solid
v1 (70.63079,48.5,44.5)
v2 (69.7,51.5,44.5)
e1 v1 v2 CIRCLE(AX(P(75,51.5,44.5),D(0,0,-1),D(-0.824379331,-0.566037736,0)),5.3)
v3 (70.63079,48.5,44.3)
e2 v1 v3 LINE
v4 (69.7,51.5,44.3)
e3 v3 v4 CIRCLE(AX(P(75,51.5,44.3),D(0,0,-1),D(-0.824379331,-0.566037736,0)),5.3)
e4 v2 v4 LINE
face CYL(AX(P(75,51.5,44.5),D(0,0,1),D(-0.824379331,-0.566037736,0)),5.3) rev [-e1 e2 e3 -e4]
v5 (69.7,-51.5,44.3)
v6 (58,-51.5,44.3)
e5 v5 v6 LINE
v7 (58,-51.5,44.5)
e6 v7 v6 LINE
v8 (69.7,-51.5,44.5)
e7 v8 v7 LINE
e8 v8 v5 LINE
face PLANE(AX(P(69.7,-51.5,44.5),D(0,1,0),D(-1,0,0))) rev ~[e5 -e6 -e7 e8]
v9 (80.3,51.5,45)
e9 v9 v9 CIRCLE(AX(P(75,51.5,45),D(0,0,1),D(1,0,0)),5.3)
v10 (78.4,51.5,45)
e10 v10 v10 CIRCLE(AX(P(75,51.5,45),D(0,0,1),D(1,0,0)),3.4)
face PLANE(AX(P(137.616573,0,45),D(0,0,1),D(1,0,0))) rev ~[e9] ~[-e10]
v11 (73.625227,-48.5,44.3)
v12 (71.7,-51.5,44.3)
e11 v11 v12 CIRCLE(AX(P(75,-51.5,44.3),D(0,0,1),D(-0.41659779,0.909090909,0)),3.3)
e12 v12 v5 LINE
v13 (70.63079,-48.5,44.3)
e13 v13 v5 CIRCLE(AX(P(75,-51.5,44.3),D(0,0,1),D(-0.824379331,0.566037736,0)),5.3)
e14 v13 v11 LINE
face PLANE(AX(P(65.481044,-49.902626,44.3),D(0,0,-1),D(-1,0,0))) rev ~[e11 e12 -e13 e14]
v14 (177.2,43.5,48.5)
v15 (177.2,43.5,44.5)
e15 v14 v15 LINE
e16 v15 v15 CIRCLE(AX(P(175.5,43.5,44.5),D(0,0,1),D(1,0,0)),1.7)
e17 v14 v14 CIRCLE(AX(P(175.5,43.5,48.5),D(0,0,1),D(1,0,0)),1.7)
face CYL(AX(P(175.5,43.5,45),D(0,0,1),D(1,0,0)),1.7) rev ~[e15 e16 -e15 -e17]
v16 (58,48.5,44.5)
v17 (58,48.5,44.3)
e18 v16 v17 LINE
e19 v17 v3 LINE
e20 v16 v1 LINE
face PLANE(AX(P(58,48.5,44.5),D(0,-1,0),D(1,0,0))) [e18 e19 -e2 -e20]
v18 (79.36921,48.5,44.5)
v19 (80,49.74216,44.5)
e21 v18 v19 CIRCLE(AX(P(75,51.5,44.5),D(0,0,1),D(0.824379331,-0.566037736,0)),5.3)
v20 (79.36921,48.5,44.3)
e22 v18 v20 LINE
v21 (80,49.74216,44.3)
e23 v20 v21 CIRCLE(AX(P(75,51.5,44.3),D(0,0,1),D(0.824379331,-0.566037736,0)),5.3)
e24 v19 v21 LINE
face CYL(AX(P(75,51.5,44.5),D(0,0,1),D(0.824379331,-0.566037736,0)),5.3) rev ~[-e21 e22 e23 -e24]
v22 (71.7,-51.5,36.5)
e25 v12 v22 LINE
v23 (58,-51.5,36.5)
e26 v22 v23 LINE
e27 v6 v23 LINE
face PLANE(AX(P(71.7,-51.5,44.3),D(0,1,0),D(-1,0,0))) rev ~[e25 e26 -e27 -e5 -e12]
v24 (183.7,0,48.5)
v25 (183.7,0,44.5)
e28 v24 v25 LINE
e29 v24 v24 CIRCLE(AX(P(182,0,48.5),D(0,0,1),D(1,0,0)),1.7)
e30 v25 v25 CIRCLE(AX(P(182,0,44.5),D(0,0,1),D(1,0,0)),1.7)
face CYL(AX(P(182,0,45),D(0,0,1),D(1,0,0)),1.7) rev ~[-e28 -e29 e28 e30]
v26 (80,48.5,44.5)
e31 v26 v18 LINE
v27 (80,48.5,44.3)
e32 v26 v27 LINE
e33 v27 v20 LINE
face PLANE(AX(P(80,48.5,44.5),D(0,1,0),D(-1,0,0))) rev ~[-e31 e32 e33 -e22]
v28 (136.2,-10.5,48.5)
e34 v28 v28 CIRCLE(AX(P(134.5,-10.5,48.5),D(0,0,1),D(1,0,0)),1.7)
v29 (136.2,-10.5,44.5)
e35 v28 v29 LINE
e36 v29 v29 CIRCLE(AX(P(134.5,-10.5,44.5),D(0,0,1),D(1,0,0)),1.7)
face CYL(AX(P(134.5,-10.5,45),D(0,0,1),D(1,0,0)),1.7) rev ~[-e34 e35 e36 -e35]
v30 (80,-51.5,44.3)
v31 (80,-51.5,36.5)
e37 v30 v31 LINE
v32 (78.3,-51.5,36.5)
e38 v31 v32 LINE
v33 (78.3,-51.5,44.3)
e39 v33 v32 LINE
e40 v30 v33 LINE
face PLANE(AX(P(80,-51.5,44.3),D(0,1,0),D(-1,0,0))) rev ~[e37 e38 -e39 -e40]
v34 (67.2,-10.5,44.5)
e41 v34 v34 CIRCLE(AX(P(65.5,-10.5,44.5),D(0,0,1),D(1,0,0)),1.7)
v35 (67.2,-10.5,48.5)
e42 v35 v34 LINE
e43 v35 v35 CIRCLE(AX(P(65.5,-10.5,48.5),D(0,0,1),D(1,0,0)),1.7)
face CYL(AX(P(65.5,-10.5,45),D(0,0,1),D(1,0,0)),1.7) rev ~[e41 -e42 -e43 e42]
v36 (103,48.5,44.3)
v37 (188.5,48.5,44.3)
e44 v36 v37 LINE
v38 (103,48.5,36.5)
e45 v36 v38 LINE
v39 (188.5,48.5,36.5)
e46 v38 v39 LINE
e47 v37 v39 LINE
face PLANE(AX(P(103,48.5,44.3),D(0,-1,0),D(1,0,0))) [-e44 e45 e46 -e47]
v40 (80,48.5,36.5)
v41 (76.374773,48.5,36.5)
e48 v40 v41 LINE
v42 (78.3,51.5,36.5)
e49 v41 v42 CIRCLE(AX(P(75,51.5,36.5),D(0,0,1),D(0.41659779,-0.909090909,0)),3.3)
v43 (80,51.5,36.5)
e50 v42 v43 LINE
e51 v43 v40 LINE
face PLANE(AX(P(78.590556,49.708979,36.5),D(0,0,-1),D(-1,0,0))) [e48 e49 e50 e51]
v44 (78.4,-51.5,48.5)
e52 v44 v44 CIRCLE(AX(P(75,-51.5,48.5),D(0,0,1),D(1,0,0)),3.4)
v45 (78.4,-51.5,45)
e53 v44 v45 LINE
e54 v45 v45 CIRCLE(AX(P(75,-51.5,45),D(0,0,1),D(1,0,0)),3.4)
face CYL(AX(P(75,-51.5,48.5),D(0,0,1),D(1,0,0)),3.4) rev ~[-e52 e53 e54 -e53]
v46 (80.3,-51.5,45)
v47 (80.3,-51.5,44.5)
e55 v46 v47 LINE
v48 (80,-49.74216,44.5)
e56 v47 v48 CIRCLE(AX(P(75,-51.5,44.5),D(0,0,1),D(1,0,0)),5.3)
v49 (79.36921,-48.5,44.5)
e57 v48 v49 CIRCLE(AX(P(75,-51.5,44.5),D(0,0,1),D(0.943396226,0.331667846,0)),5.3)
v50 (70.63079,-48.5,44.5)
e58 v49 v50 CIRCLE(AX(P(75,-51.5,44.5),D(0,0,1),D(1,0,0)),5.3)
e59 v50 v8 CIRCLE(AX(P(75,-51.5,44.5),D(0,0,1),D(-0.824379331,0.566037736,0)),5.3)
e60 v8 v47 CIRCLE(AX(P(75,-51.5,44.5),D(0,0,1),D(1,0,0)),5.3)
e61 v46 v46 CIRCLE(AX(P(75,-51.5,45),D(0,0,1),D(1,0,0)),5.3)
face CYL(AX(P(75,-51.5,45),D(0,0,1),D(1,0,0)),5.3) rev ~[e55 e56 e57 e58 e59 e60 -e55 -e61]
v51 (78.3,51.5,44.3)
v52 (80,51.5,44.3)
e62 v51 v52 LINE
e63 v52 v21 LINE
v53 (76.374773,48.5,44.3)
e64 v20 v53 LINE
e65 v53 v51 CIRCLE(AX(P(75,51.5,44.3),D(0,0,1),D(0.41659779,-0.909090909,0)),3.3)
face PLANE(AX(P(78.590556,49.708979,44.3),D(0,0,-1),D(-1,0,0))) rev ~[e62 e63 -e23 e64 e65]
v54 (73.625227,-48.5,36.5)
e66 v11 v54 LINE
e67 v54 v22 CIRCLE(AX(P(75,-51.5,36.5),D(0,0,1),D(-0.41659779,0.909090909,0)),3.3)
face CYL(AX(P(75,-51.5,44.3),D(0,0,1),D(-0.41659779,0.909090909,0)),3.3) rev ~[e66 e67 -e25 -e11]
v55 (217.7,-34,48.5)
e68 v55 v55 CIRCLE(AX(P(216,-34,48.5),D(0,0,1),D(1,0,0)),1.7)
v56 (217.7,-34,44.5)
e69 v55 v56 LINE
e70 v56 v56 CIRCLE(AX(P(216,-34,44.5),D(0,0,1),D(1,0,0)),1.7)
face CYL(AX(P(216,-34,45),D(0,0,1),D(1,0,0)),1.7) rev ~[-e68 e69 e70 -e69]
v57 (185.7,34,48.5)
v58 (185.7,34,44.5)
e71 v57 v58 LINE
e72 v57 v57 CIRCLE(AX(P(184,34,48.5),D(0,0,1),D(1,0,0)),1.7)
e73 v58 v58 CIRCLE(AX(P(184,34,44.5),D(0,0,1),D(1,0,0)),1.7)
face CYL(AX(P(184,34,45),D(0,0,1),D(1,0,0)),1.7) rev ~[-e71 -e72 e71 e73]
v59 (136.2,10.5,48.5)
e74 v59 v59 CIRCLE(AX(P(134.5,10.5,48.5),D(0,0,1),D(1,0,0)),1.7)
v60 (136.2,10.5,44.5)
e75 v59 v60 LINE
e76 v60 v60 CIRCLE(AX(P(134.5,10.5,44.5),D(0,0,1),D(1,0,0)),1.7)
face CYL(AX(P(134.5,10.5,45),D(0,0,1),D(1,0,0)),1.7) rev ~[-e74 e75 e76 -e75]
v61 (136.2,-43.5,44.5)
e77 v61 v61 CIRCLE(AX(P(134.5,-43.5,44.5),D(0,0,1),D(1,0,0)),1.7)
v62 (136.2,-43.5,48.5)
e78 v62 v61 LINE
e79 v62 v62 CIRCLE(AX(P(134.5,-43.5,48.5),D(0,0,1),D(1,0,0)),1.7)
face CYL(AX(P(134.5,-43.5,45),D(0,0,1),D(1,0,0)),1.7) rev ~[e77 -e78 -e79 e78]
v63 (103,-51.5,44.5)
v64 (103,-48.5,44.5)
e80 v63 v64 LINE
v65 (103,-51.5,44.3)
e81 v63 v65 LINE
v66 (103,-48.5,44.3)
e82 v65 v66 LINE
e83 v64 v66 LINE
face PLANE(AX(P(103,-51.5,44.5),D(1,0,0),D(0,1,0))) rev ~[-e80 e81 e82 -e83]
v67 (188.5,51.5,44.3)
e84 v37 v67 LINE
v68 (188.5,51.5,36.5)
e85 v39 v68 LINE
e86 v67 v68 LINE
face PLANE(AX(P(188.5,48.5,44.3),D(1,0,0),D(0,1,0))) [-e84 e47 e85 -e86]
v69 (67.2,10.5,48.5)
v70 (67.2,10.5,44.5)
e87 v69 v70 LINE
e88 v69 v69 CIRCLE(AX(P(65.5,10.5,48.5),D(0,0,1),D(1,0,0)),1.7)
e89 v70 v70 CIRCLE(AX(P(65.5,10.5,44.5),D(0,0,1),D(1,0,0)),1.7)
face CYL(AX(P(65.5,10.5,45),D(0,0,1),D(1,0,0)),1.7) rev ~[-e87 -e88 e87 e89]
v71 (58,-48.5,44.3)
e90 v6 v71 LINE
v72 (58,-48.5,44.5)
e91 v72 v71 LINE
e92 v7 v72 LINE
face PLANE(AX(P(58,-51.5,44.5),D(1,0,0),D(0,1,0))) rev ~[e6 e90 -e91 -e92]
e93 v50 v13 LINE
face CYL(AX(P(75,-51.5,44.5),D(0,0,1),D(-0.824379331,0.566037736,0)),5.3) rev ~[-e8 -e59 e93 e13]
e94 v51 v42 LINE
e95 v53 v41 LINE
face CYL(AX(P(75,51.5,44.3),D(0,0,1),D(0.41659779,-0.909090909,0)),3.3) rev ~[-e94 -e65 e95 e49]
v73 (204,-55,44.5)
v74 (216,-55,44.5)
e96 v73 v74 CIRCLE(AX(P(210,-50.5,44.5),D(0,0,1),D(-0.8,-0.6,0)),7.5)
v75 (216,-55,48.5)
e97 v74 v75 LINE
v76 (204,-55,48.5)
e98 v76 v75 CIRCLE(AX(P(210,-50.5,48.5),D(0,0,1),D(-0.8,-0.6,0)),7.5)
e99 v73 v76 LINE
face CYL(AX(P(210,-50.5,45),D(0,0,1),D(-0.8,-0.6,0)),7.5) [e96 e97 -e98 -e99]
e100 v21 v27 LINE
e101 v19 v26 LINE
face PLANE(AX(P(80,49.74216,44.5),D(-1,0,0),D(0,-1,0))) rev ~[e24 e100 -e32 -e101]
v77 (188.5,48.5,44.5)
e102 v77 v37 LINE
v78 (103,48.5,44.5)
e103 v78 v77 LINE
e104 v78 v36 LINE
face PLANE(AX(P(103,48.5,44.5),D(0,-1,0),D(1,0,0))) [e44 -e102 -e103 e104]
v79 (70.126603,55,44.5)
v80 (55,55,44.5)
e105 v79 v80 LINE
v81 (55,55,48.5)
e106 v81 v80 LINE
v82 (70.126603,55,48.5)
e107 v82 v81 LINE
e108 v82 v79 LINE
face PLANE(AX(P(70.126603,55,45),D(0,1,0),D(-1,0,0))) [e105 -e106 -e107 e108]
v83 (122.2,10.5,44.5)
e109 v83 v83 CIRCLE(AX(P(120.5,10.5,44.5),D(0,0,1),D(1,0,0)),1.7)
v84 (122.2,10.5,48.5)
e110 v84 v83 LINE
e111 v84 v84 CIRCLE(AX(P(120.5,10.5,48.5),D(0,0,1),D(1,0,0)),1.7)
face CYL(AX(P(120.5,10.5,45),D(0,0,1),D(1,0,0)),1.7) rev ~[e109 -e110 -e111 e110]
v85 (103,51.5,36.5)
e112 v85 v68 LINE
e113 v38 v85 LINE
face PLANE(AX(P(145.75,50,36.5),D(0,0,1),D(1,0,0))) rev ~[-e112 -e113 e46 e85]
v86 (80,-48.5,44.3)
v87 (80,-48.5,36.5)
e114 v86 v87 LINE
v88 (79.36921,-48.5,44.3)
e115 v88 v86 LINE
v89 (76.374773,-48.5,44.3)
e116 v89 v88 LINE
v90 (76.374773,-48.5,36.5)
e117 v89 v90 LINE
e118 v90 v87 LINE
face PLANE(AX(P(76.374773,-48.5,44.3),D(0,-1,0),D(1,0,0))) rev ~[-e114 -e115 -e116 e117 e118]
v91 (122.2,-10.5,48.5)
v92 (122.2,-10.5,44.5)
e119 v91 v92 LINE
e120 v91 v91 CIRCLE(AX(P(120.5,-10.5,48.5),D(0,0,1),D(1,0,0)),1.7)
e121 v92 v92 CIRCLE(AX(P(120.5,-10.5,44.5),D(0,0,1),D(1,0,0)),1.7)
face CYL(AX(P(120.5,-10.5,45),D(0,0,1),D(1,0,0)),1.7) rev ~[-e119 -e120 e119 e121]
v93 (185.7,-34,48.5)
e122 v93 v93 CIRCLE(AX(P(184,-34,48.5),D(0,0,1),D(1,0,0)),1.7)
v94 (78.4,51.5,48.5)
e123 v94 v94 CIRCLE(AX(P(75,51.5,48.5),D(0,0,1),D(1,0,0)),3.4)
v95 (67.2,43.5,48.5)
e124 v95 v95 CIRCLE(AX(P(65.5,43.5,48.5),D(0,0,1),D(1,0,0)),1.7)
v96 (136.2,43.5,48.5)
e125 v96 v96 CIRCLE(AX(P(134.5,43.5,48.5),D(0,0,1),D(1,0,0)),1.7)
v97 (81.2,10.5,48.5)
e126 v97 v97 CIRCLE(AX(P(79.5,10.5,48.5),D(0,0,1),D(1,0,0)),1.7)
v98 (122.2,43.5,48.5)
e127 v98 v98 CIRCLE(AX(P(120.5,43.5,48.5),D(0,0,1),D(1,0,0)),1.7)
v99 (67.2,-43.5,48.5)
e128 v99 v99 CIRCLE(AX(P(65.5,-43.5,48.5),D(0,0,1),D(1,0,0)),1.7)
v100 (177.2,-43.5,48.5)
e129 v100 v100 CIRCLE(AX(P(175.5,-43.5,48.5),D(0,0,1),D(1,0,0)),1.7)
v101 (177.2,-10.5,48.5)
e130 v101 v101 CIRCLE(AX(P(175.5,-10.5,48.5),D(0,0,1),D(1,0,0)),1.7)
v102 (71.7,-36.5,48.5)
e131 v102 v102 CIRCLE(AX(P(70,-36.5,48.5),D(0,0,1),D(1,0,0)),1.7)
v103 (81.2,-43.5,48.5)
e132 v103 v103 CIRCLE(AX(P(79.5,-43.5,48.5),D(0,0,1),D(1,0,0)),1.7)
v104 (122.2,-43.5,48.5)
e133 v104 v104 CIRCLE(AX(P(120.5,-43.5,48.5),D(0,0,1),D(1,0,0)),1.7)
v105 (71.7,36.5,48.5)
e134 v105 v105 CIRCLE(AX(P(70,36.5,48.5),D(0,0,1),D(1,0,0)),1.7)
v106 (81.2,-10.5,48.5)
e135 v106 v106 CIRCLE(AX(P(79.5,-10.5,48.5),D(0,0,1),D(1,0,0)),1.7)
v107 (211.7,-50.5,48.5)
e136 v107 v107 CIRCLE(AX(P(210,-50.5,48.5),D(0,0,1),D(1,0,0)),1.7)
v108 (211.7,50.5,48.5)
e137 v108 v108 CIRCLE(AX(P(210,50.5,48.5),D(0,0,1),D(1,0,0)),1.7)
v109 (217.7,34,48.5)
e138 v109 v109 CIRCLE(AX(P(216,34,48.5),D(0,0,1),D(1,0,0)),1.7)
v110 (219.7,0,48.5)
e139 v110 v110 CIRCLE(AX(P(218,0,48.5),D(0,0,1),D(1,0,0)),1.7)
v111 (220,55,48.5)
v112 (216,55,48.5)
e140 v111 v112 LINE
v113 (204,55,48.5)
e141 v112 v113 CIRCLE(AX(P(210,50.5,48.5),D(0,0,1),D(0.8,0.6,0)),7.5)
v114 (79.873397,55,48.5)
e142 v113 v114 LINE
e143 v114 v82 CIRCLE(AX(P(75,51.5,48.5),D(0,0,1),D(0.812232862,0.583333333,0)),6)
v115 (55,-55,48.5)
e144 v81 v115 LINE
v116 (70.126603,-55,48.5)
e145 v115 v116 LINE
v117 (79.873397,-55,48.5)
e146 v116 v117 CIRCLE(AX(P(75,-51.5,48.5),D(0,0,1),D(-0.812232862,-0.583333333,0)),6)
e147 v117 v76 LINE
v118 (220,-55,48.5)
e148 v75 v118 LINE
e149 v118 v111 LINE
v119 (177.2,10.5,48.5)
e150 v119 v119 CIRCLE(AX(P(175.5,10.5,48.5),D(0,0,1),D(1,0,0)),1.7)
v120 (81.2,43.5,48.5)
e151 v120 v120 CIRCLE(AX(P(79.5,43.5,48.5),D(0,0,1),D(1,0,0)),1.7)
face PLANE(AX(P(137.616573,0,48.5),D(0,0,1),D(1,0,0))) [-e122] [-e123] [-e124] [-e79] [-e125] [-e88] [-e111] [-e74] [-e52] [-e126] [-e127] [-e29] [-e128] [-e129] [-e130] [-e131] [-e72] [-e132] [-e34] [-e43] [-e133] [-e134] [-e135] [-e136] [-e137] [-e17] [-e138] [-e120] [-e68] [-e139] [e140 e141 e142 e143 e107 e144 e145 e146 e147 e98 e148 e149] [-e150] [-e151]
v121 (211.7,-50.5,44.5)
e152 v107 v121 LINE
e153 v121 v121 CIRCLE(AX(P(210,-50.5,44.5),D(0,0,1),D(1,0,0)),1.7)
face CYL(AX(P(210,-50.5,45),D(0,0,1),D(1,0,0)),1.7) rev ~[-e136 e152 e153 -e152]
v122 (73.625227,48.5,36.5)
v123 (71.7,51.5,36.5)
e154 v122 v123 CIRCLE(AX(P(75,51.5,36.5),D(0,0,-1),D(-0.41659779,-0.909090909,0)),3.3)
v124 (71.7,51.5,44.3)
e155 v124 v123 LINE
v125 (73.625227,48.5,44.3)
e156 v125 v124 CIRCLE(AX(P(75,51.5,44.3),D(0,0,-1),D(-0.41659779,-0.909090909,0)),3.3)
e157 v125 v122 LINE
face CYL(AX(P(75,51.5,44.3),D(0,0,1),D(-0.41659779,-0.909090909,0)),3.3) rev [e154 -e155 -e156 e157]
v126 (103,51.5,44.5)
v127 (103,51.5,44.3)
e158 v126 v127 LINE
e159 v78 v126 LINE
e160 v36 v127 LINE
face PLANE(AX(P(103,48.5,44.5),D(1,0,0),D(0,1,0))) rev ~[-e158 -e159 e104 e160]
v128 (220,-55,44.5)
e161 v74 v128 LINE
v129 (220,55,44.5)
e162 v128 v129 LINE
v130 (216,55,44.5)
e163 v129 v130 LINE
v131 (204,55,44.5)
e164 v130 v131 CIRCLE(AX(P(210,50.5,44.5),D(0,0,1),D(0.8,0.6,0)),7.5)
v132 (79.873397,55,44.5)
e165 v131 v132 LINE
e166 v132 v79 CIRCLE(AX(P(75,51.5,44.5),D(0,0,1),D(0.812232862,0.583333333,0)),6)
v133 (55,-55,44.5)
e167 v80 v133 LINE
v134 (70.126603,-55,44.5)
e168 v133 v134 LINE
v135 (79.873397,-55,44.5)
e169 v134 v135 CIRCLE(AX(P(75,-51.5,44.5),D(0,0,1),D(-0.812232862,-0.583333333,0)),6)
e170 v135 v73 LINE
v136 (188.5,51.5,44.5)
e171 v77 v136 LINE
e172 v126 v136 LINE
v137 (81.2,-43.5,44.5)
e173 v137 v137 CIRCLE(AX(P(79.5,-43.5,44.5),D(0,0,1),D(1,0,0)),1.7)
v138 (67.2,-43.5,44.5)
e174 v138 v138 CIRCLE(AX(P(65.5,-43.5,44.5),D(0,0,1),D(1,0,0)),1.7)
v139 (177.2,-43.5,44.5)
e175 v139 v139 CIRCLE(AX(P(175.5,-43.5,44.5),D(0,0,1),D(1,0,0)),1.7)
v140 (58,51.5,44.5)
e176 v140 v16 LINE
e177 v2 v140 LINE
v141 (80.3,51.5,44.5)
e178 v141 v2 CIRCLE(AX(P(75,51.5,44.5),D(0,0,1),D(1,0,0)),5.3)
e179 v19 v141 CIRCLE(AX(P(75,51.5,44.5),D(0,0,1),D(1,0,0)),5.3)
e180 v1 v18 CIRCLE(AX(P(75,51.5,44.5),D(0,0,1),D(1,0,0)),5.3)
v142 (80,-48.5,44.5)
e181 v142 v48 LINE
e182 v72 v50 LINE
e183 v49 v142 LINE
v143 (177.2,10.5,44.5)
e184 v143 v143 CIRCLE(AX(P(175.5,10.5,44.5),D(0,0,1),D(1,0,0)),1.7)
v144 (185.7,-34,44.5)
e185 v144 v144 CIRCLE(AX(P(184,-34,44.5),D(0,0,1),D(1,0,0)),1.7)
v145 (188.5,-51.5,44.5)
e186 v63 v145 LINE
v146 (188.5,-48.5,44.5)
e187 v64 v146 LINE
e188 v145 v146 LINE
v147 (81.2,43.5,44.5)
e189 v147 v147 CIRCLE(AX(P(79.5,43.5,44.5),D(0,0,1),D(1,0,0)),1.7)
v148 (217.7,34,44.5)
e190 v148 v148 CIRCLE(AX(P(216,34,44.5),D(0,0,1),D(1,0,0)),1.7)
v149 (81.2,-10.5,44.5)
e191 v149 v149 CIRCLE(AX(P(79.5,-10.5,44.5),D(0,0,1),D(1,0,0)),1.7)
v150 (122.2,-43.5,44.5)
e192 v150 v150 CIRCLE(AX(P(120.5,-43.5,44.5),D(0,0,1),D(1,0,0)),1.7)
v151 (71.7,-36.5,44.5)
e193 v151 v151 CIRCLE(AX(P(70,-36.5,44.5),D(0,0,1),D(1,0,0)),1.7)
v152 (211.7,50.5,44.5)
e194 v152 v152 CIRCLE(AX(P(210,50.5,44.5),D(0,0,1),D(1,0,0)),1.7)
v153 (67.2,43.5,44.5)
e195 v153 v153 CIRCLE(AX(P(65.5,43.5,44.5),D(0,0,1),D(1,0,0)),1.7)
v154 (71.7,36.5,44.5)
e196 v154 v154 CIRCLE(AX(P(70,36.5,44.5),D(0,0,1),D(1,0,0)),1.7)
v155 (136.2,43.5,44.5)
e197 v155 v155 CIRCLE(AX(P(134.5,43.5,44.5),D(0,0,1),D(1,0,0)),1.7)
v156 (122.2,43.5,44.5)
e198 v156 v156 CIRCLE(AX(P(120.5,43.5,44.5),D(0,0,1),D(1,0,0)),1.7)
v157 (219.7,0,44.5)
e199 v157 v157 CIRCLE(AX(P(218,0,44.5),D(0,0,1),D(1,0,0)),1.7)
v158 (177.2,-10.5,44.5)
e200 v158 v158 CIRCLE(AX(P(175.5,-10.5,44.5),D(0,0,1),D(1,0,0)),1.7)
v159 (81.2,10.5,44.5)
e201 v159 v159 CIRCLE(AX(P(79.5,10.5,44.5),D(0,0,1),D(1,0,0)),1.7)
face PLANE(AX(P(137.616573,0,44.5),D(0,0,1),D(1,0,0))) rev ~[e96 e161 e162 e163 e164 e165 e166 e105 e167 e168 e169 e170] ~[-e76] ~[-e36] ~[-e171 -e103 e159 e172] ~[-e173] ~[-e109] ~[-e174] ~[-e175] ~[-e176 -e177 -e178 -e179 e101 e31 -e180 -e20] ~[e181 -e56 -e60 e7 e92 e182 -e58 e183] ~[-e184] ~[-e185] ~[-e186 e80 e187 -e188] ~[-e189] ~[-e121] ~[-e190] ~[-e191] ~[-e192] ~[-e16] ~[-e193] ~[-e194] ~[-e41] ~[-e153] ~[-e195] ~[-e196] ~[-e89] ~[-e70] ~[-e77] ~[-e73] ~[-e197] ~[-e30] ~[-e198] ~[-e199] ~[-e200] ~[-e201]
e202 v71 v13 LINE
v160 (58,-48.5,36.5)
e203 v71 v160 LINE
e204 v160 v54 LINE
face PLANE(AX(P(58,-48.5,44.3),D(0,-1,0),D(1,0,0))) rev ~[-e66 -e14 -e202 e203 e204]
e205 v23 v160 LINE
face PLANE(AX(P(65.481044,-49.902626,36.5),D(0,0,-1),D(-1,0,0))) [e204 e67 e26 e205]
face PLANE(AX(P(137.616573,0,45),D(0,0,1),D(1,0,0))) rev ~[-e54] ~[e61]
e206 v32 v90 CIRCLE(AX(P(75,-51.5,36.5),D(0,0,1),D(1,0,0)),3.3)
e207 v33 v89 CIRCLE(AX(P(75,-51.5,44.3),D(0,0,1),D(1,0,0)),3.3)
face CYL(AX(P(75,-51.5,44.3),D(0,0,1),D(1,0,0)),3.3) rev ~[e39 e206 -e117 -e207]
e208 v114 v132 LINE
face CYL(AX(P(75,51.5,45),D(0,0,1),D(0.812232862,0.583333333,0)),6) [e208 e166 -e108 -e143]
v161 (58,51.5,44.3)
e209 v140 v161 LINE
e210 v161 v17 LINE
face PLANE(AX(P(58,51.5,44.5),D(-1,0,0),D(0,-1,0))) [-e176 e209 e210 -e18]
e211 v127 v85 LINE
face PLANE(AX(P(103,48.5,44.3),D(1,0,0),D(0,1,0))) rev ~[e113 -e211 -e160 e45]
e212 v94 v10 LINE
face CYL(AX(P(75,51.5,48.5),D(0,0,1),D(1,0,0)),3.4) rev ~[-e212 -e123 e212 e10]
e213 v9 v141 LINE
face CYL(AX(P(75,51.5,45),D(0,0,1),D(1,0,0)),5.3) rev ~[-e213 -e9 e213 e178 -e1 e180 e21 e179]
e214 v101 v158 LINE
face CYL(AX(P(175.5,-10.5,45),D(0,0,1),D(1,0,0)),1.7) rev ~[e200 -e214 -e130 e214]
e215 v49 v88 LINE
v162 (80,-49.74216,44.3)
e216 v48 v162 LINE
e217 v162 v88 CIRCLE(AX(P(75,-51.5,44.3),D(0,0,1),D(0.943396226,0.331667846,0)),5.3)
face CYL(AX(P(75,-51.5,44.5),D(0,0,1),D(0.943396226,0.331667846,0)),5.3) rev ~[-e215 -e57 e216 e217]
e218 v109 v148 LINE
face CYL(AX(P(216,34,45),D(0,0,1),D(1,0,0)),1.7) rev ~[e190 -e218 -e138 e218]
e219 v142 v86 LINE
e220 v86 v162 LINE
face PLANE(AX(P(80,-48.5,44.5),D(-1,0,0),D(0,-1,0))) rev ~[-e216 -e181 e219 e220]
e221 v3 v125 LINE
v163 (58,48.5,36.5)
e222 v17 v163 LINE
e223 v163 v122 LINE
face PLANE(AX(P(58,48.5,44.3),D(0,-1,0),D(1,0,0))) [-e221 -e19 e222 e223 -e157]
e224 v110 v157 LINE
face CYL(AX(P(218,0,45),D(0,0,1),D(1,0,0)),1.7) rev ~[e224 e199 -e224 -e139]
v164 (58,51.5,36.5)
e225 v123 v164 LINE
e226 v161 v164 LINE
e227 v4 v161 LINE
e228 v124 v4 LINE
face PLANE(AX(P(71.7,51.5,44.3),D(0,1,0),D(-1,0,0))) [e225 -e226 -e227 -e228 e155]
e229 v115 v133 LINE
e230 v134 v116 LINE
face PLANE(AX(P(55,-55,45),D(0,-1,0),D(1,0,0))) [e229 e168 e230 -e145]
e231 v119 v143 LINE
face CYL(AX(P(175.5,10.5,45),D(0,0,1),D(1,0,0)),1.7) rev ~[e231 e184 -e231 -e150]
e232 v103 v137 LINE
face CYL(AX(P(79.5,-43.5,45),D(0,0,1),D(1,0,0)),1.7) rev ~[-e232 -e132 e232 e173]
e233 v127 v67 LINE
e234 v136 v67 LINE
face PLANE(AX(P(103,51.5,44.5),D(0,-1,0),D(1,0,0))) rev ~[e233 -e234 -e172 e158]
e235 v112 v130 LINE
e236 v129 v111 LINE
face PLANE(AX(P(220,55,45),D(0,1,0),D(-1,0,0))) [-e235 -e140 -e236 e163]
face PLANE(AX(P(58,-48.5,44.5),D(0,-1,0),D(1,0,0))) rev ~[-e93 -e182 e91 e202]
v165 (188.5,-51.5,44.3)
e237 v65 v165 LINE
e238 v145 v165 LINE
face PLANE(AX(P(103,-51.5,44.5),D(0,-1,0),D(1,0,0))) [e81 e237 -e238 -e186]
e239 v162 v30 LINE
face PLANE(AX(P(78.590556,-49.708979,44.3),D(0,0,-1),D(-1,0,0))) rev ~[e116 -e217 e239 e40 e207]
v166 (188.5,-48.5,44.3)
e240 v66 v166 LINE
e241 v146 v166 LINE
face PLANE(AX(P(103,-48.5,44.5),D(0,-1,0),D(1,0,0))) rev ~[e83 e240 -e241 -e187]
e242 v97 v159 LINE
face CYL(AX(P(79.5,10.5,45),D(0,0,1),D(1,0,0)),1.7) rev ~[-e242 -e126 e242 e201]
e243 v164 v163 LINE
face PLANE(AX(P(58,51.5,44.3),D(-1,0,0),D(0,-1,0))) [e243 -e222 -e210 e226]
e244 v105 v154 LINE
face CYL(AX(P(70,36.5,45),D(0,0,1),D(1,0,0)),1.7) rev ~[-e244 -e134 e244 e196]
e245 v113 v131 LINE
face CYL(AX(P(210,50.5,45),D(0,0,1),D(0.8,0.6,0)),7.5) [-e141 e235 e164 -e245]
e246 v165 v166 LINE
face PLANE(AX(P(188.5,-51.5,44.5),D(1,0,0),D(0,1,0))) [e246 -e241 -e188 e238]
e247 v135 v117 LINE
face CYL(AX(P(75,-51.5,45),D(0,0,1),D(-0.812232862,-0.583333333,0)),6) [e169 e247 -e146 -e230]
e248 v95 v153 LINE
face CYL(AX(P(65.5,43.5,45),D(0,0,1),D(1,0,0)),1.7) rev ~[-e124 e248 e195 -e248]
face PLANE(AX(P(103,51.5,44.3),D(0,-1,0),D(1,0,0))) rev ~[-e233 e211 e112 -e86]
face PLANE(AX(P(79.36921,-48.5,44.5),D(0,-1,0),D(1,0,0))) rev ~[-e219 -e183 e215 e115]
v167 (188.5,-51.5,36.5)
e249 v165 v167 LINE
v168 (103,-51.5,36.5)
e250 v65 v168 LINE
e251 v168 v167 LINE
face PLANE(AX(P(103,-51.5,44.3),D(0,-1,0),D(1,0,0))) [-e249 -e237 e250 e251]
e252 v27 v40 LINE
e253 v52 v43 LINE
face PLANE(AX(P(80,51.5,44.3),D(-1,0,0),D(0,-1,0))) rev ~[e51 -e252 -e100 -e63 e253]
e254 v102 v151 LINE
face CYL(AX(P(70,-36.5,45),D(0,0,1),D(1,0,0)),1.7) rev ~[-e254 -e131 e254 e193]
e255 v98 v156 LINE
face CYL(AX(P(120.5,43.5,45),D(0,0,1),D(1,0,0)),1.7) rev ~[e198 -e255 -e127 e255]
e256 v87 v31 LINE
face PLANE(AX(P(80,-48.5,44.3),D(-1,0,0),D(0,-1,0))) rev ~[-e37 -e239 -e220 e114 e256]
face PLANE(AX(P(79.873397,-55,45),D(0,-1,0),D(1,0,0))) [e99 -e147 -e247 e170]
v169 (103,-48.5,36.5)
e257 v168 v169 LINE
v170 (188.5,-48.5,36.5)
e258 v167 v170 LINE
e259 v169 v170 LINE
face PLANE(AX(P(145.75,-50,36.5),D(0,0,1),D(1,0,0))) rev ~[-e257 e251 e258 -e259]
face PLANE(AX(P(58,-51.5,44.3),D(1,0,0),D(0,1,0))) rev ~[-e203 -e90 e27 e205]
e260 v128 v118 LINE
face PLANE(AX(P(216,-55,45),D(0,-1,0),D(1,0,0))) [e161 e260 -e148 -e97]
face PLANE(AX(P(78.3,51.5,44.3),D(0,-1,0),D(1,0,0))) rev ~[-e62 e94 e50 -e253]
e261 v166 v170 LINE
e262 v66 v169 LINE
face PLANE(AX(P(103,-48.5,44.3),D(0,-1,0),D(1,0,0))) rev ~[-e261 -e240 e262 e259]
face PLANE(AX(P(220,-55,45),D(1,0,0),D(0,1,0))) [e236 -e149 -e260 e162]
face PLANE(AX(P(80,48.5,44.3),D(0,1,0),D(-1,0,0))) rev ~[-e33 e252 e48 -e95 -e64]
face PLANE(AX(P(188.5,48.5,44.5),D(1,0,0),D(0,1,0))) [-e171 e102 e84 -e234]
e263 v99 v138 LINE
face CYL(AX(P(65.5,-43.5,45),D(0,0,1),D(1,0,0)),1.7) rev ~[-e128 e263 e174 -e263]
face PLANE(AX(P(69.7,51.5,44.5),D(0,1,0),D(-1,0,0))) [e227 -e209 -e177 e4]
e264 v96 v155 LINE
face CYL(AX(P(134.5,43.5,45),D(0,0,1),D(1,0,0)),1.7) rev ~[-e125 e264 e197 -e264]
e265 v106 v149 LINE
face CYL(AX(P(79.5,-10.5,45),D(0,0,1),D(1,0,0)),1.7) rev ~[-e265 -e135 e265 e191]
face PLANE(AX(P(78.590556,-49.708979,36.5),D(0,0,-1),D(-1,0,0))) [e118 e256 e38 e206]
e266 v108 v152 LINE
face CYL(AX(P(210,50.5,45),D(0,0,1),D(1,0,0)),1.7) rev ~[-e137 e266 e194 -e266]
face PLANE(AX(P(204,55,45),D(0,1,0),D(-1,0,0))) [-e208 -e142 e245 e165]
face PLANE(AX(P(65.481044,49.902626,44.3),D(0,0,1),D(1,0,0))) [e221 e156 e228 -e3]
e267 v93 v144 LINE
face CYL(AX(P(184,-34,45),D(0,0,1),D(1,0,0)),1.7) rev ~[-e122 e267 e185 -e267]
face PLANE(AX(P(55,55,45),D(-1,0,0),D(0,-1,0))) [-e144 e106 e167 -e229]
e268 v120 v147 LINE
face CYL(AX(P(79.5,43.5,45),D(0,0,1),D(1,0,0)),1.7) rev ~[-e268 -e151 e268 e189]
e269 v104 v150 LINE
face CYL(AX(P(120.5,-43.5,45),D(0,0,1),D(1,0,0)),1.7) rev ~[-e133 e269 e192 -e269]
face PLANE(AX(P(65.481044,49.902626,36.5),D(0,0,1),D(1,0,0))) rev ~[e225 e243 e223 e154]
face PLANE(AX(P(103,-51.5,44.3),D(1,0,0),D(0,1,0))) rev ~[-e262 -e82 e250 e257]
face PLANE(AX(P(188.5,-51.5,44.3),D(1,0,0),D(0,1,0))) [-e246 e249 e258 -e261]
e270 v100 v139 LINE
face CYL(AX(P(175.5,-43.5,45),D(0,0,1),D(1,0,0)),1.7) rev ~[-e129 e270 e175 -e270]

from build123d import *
from build123d.topology import SkipClean

# Parameters (mm, degrees)
MAIN_PROFILE_SKETCH_R       = 3.4
MAIN_PROFILE_SKETCH_R_2     = 1.7
MAIN_EXTRUSION_DEPTH        = 3.5
DETAIL_PROFILE_2_SKETCH_R   = 5.3
DETAIL_PROFILE_2_SKETCH_R_2 = 1.7
DETAIL_EXTRUSION_2_DEPTH    = 0.5
DETAIL_PROFILE_3_SKETCH_W   = 85.5
DETAIL_PROFILE_3_SKETCH_H   = 3
DETAIL_EXTRUSION_3_DEPTH    = 0.2
DETAIL_PROFILE_4_SKETCH_W   = 85.5
DETAIL_PROFILE_4_SKETCH_H   = 3
DETAIL_EXTRUSION_4_DEPTH    = 7.8


with BuildPart() as part:
    # Main Profile Sketch → Main Extrusion (new body)
    with BuildSketch(Plane.XY.offset(48.5)):
        with BuildLine():
            Line((55, -55), (70.126602828, -55))
            ThreePointArc((70.126602828, -55), (75, -57.5), (79.873397172, -55))
            Line((79.873397172, -55), (204, -55))
            ThreePointArc((204, -55), (210, -58), (216, -55))
            Line((216, -55), (220, -55))
            Line((220, -55), (220, 55))
            Line((220, 55), (216, 55))
            ThreePointArc((216, 55), (210, 58), (204, 55))
            Line((204, 55), (79.873397172, 55))
            ThreePointArc((79.873397172, 55), (75, 57.5), (70.126602828, 55))
            Line((70.126602828, 55), (55, 55))
            Line((55, 55), (55, -55))
        make_face()
        with Locations((75, -51.5)):
            Circle(MAIN_PROFILE_SKETCH_R, mode=Mode.SUBTRACT)
        with Locations((65.5, -43.5)):
            Circle(MAIN_PROFILE_SKETCH_R_2, mode=Mode.SUBTRACT)
        with Locations((70, -36.5)):
            Circle(MAIN_PROFILE_SKETCH_R_2, mode=Mode.SUBTRACT)
        with Locations((79.5, -43.5)):
            Circle(MAIN_PROFILE_SKETCH_R_2, mode=Mode.SUBTRACT)
        with Locations((120.5, -43.5)):
            Circle(MAIN_PROFILE_SKETCH_R_2, mode=Mode.SUBTRACT)
        with Locations((134.5, -43.5)):
            Circle(MAIN_PROFILE_SKETCH_R_2, mode=Mode.SUBTRACT)
        with Locations((65.5, -10.5)):
            Circle(MAIN_PROFILE_SKETCH_R_2, mode=Mode.SUBTRACT)
        with Locations((79.5, -10.5)):
            Circle(MAIN_PROFILE_SKETCH_R_2, mode=Mode.SUBTRACT)
        with Locations((120.5, -10.5)):
            Circle(MAIN_PROFILE_SKETCH_R_2, mode=Mode.SUBTRACT)
        with Locations((134.5, -10.5)):
            Circle(MAIN_PROFILE_SKETCH_R_2, mode=Mode.SUBTRACT)
        with Locations((175.5, -43.5)):
            Circle(MAIN_PROFILE_SKETCH_R_2, mode=Mode.SUBTRACT)
        with Locations((210, -50.5)):
            Circle(MAIN_PROFILE_SKETCH_R_2, mode=Mode.SUBTRACT)
        with Locations((184, -34)):
            Circle(MAIN_PROFILE_SKETCH_R_2, mode=Mode.SUBTRACT)
        with Locations((216, -34)):
            Circle(MAIN_PROFILE_SKETCH_R_2, mode=Mode.SUBTRACT)
        with Locations((175.5, -10.5)):
            Circle(MAIN_PROFILE_SKETCH_R_2, mode=Mode.SUBTRACT)
        with Locations((65.5, 10.5)):
            Circle(MAIN_PROFILE_SKETCH_R_2, mode=Mode.SUBTRACT)
        with Locations((79.5, 10.5)):
            Circle(MAIN_PROFILE_SKETCH_R_2, mode=Mode.SUBTRACT)
        with Locations((120.5, 10.5)):
            Circle(MAIN_PROFILE_SKETCH_R_2, mode=Mode.SUBTRACT)
        with Locations((134.5, 10.5)):
            Circle(MAIN_PROFILE_SKETCH_R_2, mode=Mode.SUBTRACT)
        with Locations((70, 36.5)):
            Circle(MAIN_PROFILE_SKETCH_R_2, mode=Mode.SUBTRACT)
        with Locations((65.5, 43.5)):
            Circle(MAIN_PROFILE_SKETCH_R_2, mode=Mode.SUBTRACT)
        with Locations((75, 51.5)):
            Circle(MAIN_PROFILE_SKETCH_R, mode=Mode.SUBTRACT)
        with Locations((79.5, 43.5)):
            Circle(MAIN_PROFILE_SKETCH_R_2, mode=Mode.SUBTRACT)
        with Locations((120.5, 43.5)):
            Circle(MAIN_PROFILE_SKETCH_R_2, mode=Mode.SUBTRACT)
        with Locations((134.5, 43.5)):
            Circle(MAIN_PROFILE_SKETCH_R_2, mode=Mode.SUBTRACT)
        with Locations((175.5, 10.5)):
            Circle(MAIN_PROFILE_SKETCH_R_2, mode=Mode.SUBTRACT)
        with Locations((182, 0)):
            Circle(MAIN_PROFILE_SKETCH_R_2, mode=Mode.SUBTRACT)
        with Locations((218, 0)):
            Circle(MAIN_PROFILE_SKETCH_R_2, mode=Mode.SUBTRACT)
        with Locations((175.5, 43.5)):
            Circle(MAIN_PROFILE_SKETCH_R_2, mode=Mode.SUBTRACT)
        with Locations((184, 34)):
            Circle(MAIN_PROFILE_SKETCH_R_2, mode=Mode.SUBTRACT)
        with Locations((216, 34)):
            Circle(MAIN_PROFILE_SKETCH_R_2, mode=Mode.SUBTRACT)
        with Locations((210, 50.5)):
            Circle(MAIN_PROFILE_SKETCH_R_2, mode=Mode.SUBTRACT)
    extrude(amount=-MAIN_EXTRUSION_DEPTH)

    # Detail Profile 2 Sketch → Detail Extrusion 2 (add)
    with BuildSketch(Plane.XY.offset(45)):
        with BuildLine():
            Line((55, -55), (70.126602828, -55))
            ThreePointArc((70.126602828, -55), (75, -57.5), (79.873397172, -55))
            Line((79.873397172, -55), (204, -55))
            ThreePointArc((204, -55), (210, -58), (216, -55))
            Line((216, -55), (220, -55))
            Line((220, -55), (220, 55))
            Line((220, 55), (216, 55))
            ThreePointArc((216, 55), (210, 58), (204, 55))
            Line((204, 55), (79.873397172, 55))
            ThreePointArc((79.873397172, 55), (75, 57.5), (70.126602828, 55))
            Line((70.126602828, 55), (55, 55))
            Line((55, 55), (55, -55))
        make_face()
        with Locations((75, -51.5)):
            Circle(DETAIL_PROFILE_2_SKETCH_R, mode=Mode.SUBTRACT)
        with Locations((65.5, -43.5)):
            Circle(DETAIL_PROFILE_2_SKETCH_R_2, mode=Mode.SUBTRACT)
        with Locations((70, -36.5)):
            Circle(DETAIL_PROFILE_2_SKETCH_R_2, mode=Mode.SUBTRACT)
        with Locations((79.5, -43.5)):
            Circle(DETAIL_PROFILE_2_SKETCH_R_2, mode=Mode.SUBTRACT)
        with Locations((120.5, -43.5)):
            Circle(DETAIL_PROFILE_2_SKETCH_R_2, mode=Mode.SUBTRACT)
        with Locations((134.5, -43.5)):
            Circle(DETAIL_PROFILE_2_SKETCH_R_2, mode=Mode.SUBTRACT)
        with Locations((65.5, -10.5)):
            Circle(DETAIL_PROFILE_2_SKETCH_R_2, mode=Mode.SUBTRACT)
        with Locations((79.5, -10.5)):
            Circle(DETAIL_PROFILE_2_SKETCH_R_2, mode=Mode.SUBTRACT)
        with Locations((120.5, -10.5)):
            Circle(DETAIL_PROFILE_2_SKETCH_R_2, mode=Mode.SUBTRACT)
        with Locations((134.5, -10.5)):
            Circle(DETAIL_PROFILE_2_SKETCH_R_2, mode=Mode.SUBTRACT)
        with Locations((175.5, -43.5)):
            Circle(DETAIL_PROFILE_2_SKETCH_R_2, mode=Mode.SUBTRACT)
        with Locations((210, -50.5)):
            Circle(DETAIL_PROFILE_2_SKETCH_R_2, mode=Mode.SUBTRACT)
        with Locations((184, -34)):
            Circle(DETAIL_PROFILE_2_SKETCH_R_2, mode=Mode.SUBTRACT)
        with Locations((216, -34)):
            Circle(DETAIL_PROFILE_2_SKETCH_R_2, mode=Mode.SUBTRACT)
        with Locations((175.5, -10.5)):
            Circle(DETAIL_PROFILE_2_SKETCH_R_2, mode=Mode.SUBTRACT)
        with Locations((65.5, 10.5)):
            Circle(DETAIL_PROFILE_2_SKETCH_R_2, mode=Mode.SUBTRACT)
        with Locations((79.5, 10.5)):
            Circle(DETAIL_PROFILE_2_SKETCH_R_2, mode=Mode.SUBTRACT)
        with Locations((120.5, 10.5)):
            Circle(DETAIL_PROFILE_2_SKETCH_R_2, mode=Mode.SUBTRACT)
        with Locations((134.5, 10.5)):
            Circle(DETAIL_PROFILE_2_SKETCH_R_2, mode=Mode.SUBTRACT)
        with Locations((70, 36.5)):
            Circle(DETAIL_PROFILE_2_SKETCH_R_2, mode=Mode.SUBTRACT)
        with Locations((65.5, 43.5)):
            Circle(DETAIL_PROFILE_2_SKETCH_R_2, mode=Mode.SUBTRACT)
        with Locations((75, 51.5)):
            Circle(DETAIL_PROFILE_2_SKETCH_R, mode=Mode.SUBTRACT)
        with Locations((79.5, 43.5)):
            Circle(DETAIL_PROFILE_2_SKETCH_R_2, mode=Mode.SUBTRACT)
        with Locations((120.5, 43.5)):
            Circle(DETAIL_PROFILE_2_SKETCH_R_2, mode=Mode.SUBTRACT)
        with Locations((134.5, 43.5)):
            Circle(DETAIL_PROFILE_2_SKETCH_R_2, mode=Mode.SUBTRACT)
        with Locations((175.5, 10.5)):
            Circle(DETAIL_PROFILE_2_SKETCH_R_2, mode=Mode.SUBTRACT)
        with Locations((182, 0)):
            Circle(DETAIL_PROFILE_2_SKETCH_R_2, mode=Mode.SUBTRACT)
        with Locations((218, 0)):
            Circle(DETAIL_PROFILE_2_SKETCH_R_2, mode=Mode.SUBTRACT)
        with Locations((175.5, 43.5)):
            Circle(DETAIL_PROFILE_2_SKETCH_R_2, mode=Mode.SUBTRACT)
        with Locations((184, 34)):
            Circle(DETAIL_PROFILE_2_SKETCH_R_2, mode=Mode.SUBTRACT)
        with Locations((216, 34)):
            Circle(DETAIL_PROFILE_2_SKETCH_R_2, mode=Mode.SUBTRACT)
        with Locations((210, 50.5)):
            Circle(DETAIL_PROFILE_2_SKETCH_R_2, mode=Mode.SUBTRACT)
    extrude(amount=-DETAIL_EXTRUSION_2_DEPTH)

    # Detail Profile 3 Sketch → Detail Extrusion 3 (add)
    with SkipClean():  # the faces are left unmerged after this step: merging them gives an invalid solid
        with BuildSketch(Plane.XY.offset(44.5)):
            with BuildLine():
                Line((58, -48.5), (70.630789545, -48.5))
                ThreePointArc((70.630789545, -48.5), (69.938043095, -49.929461145), (69.7, -51.5))
                Line((69.7, -51.5), (58, -51.5))
                Line((58, -51.5), (58, -48.5))
            make_face()
            with BuildLine():
                Line((79.369210455, -48.5), (80, -48.5))
                Line((80, -48.5), (80, -49.742160417))
                ThreePointArc((80, -49.742160417), (79.725596974, -49.100263923), (79.369210455, -48.5))
            make_face()
            with Locations((145.75, -50)):
                Rectangle(DETAIL_PROFILE_3_SKETCH_W, DETAIL_PROFILE_3_SKETCH_H)
            with BuildLine():
                Line((58, 51.5), (58, 48.5))
                Line((58, 48.5), (70.630789545, 48.5))
                ThreePointArc((70.630789545, 48.5), (69.938043095, 49.929461145), (69.7, 51.5))
                Line((69.7, 51.5), (58, 51.5))
            make_face()
            with BuildLine():
                Line((80, 49.742160417), (80, 48.5))
                Line((80, 48.5), (79.369210455, 48.5))
                ThreePointArc((79.369210455, 48.5), (79.725596974, 49.100263923), (80, 49.742160417))
            make_face()
            with Locations((145.75, 50)):
                Rectangle(DETAIL_PROFILE_3_SKETCH_W, DETAIL_PROFILE_3_SKETCH_H)
        extrude(amount=-DETAIL_EXTRUSION_3_DEPTH)

    # Detail Profile 4 Sketch → Detail Extrusion 4 (add)
    with SkipClean():  # the faces are left unmerged after this step: merging them gives an invalid solid
        with BuildSketch(Plane.XY.offset(44.3)):
            with BuildLine():
                Line((58, -48.5), (73.625227292, -48.5))
                ThreePointArc((73.625227292, -48.5), (72.222703658, -49.717691096), (71.7, -51.5))
                Line((71.7, -51.5), (58, -51.5))
                Line((58, -51.5), (58, -48.5))
            make_face()
            with BuildLine():
                Line((80, -48.5), (80, -51.5))
                Line((80, -51.5), (78.3, -51.5))
                ThreePointArc((78.3, -51.5), (77.777296342, -49.717691096), (76.374772708, -48.5))
                Line((76.374772708, -48.5), (80, -48.5))
            make_face()
            with Locations((145.75, -50)):
                Rectangle(DETAIL_PROFILE_4_SKETCH_W, DETAIL_PROFILE_4_SKETCH_H)
            with BuildLine():
                Line((58, 51.5), (58, 48.5))
                Line((58, 48.5), (73.625227292, 48.5))
                ThreePointArc((73.625227292, 48.5), (72.222703658, 49.717691096), (71.7, 51.5))
                Line((71.7, 51.5), (58, 51.5))
            make_face()
            with BuildLine():
                Line((78.3, 51.5), (80, 51.5))
                Line((80, 51.5), (80, 48.5))
                Line((80, 48.5), (76.374772708, 48.5))
                ThreePointArc((76.374772708, 48.5), (77.777296342, 49.717691096), (78.3, 51.5))
            make_face()
            with Locations((145.75, 50)):
                Rectangle(DETAIL_PROFILE_4_SKETCH_W, DETAIL_PROFILE_4_SKETCH_H)
        extrude(amount=-DETAIL_EXTRUSION_4_DEPTH)


solid = part.part
